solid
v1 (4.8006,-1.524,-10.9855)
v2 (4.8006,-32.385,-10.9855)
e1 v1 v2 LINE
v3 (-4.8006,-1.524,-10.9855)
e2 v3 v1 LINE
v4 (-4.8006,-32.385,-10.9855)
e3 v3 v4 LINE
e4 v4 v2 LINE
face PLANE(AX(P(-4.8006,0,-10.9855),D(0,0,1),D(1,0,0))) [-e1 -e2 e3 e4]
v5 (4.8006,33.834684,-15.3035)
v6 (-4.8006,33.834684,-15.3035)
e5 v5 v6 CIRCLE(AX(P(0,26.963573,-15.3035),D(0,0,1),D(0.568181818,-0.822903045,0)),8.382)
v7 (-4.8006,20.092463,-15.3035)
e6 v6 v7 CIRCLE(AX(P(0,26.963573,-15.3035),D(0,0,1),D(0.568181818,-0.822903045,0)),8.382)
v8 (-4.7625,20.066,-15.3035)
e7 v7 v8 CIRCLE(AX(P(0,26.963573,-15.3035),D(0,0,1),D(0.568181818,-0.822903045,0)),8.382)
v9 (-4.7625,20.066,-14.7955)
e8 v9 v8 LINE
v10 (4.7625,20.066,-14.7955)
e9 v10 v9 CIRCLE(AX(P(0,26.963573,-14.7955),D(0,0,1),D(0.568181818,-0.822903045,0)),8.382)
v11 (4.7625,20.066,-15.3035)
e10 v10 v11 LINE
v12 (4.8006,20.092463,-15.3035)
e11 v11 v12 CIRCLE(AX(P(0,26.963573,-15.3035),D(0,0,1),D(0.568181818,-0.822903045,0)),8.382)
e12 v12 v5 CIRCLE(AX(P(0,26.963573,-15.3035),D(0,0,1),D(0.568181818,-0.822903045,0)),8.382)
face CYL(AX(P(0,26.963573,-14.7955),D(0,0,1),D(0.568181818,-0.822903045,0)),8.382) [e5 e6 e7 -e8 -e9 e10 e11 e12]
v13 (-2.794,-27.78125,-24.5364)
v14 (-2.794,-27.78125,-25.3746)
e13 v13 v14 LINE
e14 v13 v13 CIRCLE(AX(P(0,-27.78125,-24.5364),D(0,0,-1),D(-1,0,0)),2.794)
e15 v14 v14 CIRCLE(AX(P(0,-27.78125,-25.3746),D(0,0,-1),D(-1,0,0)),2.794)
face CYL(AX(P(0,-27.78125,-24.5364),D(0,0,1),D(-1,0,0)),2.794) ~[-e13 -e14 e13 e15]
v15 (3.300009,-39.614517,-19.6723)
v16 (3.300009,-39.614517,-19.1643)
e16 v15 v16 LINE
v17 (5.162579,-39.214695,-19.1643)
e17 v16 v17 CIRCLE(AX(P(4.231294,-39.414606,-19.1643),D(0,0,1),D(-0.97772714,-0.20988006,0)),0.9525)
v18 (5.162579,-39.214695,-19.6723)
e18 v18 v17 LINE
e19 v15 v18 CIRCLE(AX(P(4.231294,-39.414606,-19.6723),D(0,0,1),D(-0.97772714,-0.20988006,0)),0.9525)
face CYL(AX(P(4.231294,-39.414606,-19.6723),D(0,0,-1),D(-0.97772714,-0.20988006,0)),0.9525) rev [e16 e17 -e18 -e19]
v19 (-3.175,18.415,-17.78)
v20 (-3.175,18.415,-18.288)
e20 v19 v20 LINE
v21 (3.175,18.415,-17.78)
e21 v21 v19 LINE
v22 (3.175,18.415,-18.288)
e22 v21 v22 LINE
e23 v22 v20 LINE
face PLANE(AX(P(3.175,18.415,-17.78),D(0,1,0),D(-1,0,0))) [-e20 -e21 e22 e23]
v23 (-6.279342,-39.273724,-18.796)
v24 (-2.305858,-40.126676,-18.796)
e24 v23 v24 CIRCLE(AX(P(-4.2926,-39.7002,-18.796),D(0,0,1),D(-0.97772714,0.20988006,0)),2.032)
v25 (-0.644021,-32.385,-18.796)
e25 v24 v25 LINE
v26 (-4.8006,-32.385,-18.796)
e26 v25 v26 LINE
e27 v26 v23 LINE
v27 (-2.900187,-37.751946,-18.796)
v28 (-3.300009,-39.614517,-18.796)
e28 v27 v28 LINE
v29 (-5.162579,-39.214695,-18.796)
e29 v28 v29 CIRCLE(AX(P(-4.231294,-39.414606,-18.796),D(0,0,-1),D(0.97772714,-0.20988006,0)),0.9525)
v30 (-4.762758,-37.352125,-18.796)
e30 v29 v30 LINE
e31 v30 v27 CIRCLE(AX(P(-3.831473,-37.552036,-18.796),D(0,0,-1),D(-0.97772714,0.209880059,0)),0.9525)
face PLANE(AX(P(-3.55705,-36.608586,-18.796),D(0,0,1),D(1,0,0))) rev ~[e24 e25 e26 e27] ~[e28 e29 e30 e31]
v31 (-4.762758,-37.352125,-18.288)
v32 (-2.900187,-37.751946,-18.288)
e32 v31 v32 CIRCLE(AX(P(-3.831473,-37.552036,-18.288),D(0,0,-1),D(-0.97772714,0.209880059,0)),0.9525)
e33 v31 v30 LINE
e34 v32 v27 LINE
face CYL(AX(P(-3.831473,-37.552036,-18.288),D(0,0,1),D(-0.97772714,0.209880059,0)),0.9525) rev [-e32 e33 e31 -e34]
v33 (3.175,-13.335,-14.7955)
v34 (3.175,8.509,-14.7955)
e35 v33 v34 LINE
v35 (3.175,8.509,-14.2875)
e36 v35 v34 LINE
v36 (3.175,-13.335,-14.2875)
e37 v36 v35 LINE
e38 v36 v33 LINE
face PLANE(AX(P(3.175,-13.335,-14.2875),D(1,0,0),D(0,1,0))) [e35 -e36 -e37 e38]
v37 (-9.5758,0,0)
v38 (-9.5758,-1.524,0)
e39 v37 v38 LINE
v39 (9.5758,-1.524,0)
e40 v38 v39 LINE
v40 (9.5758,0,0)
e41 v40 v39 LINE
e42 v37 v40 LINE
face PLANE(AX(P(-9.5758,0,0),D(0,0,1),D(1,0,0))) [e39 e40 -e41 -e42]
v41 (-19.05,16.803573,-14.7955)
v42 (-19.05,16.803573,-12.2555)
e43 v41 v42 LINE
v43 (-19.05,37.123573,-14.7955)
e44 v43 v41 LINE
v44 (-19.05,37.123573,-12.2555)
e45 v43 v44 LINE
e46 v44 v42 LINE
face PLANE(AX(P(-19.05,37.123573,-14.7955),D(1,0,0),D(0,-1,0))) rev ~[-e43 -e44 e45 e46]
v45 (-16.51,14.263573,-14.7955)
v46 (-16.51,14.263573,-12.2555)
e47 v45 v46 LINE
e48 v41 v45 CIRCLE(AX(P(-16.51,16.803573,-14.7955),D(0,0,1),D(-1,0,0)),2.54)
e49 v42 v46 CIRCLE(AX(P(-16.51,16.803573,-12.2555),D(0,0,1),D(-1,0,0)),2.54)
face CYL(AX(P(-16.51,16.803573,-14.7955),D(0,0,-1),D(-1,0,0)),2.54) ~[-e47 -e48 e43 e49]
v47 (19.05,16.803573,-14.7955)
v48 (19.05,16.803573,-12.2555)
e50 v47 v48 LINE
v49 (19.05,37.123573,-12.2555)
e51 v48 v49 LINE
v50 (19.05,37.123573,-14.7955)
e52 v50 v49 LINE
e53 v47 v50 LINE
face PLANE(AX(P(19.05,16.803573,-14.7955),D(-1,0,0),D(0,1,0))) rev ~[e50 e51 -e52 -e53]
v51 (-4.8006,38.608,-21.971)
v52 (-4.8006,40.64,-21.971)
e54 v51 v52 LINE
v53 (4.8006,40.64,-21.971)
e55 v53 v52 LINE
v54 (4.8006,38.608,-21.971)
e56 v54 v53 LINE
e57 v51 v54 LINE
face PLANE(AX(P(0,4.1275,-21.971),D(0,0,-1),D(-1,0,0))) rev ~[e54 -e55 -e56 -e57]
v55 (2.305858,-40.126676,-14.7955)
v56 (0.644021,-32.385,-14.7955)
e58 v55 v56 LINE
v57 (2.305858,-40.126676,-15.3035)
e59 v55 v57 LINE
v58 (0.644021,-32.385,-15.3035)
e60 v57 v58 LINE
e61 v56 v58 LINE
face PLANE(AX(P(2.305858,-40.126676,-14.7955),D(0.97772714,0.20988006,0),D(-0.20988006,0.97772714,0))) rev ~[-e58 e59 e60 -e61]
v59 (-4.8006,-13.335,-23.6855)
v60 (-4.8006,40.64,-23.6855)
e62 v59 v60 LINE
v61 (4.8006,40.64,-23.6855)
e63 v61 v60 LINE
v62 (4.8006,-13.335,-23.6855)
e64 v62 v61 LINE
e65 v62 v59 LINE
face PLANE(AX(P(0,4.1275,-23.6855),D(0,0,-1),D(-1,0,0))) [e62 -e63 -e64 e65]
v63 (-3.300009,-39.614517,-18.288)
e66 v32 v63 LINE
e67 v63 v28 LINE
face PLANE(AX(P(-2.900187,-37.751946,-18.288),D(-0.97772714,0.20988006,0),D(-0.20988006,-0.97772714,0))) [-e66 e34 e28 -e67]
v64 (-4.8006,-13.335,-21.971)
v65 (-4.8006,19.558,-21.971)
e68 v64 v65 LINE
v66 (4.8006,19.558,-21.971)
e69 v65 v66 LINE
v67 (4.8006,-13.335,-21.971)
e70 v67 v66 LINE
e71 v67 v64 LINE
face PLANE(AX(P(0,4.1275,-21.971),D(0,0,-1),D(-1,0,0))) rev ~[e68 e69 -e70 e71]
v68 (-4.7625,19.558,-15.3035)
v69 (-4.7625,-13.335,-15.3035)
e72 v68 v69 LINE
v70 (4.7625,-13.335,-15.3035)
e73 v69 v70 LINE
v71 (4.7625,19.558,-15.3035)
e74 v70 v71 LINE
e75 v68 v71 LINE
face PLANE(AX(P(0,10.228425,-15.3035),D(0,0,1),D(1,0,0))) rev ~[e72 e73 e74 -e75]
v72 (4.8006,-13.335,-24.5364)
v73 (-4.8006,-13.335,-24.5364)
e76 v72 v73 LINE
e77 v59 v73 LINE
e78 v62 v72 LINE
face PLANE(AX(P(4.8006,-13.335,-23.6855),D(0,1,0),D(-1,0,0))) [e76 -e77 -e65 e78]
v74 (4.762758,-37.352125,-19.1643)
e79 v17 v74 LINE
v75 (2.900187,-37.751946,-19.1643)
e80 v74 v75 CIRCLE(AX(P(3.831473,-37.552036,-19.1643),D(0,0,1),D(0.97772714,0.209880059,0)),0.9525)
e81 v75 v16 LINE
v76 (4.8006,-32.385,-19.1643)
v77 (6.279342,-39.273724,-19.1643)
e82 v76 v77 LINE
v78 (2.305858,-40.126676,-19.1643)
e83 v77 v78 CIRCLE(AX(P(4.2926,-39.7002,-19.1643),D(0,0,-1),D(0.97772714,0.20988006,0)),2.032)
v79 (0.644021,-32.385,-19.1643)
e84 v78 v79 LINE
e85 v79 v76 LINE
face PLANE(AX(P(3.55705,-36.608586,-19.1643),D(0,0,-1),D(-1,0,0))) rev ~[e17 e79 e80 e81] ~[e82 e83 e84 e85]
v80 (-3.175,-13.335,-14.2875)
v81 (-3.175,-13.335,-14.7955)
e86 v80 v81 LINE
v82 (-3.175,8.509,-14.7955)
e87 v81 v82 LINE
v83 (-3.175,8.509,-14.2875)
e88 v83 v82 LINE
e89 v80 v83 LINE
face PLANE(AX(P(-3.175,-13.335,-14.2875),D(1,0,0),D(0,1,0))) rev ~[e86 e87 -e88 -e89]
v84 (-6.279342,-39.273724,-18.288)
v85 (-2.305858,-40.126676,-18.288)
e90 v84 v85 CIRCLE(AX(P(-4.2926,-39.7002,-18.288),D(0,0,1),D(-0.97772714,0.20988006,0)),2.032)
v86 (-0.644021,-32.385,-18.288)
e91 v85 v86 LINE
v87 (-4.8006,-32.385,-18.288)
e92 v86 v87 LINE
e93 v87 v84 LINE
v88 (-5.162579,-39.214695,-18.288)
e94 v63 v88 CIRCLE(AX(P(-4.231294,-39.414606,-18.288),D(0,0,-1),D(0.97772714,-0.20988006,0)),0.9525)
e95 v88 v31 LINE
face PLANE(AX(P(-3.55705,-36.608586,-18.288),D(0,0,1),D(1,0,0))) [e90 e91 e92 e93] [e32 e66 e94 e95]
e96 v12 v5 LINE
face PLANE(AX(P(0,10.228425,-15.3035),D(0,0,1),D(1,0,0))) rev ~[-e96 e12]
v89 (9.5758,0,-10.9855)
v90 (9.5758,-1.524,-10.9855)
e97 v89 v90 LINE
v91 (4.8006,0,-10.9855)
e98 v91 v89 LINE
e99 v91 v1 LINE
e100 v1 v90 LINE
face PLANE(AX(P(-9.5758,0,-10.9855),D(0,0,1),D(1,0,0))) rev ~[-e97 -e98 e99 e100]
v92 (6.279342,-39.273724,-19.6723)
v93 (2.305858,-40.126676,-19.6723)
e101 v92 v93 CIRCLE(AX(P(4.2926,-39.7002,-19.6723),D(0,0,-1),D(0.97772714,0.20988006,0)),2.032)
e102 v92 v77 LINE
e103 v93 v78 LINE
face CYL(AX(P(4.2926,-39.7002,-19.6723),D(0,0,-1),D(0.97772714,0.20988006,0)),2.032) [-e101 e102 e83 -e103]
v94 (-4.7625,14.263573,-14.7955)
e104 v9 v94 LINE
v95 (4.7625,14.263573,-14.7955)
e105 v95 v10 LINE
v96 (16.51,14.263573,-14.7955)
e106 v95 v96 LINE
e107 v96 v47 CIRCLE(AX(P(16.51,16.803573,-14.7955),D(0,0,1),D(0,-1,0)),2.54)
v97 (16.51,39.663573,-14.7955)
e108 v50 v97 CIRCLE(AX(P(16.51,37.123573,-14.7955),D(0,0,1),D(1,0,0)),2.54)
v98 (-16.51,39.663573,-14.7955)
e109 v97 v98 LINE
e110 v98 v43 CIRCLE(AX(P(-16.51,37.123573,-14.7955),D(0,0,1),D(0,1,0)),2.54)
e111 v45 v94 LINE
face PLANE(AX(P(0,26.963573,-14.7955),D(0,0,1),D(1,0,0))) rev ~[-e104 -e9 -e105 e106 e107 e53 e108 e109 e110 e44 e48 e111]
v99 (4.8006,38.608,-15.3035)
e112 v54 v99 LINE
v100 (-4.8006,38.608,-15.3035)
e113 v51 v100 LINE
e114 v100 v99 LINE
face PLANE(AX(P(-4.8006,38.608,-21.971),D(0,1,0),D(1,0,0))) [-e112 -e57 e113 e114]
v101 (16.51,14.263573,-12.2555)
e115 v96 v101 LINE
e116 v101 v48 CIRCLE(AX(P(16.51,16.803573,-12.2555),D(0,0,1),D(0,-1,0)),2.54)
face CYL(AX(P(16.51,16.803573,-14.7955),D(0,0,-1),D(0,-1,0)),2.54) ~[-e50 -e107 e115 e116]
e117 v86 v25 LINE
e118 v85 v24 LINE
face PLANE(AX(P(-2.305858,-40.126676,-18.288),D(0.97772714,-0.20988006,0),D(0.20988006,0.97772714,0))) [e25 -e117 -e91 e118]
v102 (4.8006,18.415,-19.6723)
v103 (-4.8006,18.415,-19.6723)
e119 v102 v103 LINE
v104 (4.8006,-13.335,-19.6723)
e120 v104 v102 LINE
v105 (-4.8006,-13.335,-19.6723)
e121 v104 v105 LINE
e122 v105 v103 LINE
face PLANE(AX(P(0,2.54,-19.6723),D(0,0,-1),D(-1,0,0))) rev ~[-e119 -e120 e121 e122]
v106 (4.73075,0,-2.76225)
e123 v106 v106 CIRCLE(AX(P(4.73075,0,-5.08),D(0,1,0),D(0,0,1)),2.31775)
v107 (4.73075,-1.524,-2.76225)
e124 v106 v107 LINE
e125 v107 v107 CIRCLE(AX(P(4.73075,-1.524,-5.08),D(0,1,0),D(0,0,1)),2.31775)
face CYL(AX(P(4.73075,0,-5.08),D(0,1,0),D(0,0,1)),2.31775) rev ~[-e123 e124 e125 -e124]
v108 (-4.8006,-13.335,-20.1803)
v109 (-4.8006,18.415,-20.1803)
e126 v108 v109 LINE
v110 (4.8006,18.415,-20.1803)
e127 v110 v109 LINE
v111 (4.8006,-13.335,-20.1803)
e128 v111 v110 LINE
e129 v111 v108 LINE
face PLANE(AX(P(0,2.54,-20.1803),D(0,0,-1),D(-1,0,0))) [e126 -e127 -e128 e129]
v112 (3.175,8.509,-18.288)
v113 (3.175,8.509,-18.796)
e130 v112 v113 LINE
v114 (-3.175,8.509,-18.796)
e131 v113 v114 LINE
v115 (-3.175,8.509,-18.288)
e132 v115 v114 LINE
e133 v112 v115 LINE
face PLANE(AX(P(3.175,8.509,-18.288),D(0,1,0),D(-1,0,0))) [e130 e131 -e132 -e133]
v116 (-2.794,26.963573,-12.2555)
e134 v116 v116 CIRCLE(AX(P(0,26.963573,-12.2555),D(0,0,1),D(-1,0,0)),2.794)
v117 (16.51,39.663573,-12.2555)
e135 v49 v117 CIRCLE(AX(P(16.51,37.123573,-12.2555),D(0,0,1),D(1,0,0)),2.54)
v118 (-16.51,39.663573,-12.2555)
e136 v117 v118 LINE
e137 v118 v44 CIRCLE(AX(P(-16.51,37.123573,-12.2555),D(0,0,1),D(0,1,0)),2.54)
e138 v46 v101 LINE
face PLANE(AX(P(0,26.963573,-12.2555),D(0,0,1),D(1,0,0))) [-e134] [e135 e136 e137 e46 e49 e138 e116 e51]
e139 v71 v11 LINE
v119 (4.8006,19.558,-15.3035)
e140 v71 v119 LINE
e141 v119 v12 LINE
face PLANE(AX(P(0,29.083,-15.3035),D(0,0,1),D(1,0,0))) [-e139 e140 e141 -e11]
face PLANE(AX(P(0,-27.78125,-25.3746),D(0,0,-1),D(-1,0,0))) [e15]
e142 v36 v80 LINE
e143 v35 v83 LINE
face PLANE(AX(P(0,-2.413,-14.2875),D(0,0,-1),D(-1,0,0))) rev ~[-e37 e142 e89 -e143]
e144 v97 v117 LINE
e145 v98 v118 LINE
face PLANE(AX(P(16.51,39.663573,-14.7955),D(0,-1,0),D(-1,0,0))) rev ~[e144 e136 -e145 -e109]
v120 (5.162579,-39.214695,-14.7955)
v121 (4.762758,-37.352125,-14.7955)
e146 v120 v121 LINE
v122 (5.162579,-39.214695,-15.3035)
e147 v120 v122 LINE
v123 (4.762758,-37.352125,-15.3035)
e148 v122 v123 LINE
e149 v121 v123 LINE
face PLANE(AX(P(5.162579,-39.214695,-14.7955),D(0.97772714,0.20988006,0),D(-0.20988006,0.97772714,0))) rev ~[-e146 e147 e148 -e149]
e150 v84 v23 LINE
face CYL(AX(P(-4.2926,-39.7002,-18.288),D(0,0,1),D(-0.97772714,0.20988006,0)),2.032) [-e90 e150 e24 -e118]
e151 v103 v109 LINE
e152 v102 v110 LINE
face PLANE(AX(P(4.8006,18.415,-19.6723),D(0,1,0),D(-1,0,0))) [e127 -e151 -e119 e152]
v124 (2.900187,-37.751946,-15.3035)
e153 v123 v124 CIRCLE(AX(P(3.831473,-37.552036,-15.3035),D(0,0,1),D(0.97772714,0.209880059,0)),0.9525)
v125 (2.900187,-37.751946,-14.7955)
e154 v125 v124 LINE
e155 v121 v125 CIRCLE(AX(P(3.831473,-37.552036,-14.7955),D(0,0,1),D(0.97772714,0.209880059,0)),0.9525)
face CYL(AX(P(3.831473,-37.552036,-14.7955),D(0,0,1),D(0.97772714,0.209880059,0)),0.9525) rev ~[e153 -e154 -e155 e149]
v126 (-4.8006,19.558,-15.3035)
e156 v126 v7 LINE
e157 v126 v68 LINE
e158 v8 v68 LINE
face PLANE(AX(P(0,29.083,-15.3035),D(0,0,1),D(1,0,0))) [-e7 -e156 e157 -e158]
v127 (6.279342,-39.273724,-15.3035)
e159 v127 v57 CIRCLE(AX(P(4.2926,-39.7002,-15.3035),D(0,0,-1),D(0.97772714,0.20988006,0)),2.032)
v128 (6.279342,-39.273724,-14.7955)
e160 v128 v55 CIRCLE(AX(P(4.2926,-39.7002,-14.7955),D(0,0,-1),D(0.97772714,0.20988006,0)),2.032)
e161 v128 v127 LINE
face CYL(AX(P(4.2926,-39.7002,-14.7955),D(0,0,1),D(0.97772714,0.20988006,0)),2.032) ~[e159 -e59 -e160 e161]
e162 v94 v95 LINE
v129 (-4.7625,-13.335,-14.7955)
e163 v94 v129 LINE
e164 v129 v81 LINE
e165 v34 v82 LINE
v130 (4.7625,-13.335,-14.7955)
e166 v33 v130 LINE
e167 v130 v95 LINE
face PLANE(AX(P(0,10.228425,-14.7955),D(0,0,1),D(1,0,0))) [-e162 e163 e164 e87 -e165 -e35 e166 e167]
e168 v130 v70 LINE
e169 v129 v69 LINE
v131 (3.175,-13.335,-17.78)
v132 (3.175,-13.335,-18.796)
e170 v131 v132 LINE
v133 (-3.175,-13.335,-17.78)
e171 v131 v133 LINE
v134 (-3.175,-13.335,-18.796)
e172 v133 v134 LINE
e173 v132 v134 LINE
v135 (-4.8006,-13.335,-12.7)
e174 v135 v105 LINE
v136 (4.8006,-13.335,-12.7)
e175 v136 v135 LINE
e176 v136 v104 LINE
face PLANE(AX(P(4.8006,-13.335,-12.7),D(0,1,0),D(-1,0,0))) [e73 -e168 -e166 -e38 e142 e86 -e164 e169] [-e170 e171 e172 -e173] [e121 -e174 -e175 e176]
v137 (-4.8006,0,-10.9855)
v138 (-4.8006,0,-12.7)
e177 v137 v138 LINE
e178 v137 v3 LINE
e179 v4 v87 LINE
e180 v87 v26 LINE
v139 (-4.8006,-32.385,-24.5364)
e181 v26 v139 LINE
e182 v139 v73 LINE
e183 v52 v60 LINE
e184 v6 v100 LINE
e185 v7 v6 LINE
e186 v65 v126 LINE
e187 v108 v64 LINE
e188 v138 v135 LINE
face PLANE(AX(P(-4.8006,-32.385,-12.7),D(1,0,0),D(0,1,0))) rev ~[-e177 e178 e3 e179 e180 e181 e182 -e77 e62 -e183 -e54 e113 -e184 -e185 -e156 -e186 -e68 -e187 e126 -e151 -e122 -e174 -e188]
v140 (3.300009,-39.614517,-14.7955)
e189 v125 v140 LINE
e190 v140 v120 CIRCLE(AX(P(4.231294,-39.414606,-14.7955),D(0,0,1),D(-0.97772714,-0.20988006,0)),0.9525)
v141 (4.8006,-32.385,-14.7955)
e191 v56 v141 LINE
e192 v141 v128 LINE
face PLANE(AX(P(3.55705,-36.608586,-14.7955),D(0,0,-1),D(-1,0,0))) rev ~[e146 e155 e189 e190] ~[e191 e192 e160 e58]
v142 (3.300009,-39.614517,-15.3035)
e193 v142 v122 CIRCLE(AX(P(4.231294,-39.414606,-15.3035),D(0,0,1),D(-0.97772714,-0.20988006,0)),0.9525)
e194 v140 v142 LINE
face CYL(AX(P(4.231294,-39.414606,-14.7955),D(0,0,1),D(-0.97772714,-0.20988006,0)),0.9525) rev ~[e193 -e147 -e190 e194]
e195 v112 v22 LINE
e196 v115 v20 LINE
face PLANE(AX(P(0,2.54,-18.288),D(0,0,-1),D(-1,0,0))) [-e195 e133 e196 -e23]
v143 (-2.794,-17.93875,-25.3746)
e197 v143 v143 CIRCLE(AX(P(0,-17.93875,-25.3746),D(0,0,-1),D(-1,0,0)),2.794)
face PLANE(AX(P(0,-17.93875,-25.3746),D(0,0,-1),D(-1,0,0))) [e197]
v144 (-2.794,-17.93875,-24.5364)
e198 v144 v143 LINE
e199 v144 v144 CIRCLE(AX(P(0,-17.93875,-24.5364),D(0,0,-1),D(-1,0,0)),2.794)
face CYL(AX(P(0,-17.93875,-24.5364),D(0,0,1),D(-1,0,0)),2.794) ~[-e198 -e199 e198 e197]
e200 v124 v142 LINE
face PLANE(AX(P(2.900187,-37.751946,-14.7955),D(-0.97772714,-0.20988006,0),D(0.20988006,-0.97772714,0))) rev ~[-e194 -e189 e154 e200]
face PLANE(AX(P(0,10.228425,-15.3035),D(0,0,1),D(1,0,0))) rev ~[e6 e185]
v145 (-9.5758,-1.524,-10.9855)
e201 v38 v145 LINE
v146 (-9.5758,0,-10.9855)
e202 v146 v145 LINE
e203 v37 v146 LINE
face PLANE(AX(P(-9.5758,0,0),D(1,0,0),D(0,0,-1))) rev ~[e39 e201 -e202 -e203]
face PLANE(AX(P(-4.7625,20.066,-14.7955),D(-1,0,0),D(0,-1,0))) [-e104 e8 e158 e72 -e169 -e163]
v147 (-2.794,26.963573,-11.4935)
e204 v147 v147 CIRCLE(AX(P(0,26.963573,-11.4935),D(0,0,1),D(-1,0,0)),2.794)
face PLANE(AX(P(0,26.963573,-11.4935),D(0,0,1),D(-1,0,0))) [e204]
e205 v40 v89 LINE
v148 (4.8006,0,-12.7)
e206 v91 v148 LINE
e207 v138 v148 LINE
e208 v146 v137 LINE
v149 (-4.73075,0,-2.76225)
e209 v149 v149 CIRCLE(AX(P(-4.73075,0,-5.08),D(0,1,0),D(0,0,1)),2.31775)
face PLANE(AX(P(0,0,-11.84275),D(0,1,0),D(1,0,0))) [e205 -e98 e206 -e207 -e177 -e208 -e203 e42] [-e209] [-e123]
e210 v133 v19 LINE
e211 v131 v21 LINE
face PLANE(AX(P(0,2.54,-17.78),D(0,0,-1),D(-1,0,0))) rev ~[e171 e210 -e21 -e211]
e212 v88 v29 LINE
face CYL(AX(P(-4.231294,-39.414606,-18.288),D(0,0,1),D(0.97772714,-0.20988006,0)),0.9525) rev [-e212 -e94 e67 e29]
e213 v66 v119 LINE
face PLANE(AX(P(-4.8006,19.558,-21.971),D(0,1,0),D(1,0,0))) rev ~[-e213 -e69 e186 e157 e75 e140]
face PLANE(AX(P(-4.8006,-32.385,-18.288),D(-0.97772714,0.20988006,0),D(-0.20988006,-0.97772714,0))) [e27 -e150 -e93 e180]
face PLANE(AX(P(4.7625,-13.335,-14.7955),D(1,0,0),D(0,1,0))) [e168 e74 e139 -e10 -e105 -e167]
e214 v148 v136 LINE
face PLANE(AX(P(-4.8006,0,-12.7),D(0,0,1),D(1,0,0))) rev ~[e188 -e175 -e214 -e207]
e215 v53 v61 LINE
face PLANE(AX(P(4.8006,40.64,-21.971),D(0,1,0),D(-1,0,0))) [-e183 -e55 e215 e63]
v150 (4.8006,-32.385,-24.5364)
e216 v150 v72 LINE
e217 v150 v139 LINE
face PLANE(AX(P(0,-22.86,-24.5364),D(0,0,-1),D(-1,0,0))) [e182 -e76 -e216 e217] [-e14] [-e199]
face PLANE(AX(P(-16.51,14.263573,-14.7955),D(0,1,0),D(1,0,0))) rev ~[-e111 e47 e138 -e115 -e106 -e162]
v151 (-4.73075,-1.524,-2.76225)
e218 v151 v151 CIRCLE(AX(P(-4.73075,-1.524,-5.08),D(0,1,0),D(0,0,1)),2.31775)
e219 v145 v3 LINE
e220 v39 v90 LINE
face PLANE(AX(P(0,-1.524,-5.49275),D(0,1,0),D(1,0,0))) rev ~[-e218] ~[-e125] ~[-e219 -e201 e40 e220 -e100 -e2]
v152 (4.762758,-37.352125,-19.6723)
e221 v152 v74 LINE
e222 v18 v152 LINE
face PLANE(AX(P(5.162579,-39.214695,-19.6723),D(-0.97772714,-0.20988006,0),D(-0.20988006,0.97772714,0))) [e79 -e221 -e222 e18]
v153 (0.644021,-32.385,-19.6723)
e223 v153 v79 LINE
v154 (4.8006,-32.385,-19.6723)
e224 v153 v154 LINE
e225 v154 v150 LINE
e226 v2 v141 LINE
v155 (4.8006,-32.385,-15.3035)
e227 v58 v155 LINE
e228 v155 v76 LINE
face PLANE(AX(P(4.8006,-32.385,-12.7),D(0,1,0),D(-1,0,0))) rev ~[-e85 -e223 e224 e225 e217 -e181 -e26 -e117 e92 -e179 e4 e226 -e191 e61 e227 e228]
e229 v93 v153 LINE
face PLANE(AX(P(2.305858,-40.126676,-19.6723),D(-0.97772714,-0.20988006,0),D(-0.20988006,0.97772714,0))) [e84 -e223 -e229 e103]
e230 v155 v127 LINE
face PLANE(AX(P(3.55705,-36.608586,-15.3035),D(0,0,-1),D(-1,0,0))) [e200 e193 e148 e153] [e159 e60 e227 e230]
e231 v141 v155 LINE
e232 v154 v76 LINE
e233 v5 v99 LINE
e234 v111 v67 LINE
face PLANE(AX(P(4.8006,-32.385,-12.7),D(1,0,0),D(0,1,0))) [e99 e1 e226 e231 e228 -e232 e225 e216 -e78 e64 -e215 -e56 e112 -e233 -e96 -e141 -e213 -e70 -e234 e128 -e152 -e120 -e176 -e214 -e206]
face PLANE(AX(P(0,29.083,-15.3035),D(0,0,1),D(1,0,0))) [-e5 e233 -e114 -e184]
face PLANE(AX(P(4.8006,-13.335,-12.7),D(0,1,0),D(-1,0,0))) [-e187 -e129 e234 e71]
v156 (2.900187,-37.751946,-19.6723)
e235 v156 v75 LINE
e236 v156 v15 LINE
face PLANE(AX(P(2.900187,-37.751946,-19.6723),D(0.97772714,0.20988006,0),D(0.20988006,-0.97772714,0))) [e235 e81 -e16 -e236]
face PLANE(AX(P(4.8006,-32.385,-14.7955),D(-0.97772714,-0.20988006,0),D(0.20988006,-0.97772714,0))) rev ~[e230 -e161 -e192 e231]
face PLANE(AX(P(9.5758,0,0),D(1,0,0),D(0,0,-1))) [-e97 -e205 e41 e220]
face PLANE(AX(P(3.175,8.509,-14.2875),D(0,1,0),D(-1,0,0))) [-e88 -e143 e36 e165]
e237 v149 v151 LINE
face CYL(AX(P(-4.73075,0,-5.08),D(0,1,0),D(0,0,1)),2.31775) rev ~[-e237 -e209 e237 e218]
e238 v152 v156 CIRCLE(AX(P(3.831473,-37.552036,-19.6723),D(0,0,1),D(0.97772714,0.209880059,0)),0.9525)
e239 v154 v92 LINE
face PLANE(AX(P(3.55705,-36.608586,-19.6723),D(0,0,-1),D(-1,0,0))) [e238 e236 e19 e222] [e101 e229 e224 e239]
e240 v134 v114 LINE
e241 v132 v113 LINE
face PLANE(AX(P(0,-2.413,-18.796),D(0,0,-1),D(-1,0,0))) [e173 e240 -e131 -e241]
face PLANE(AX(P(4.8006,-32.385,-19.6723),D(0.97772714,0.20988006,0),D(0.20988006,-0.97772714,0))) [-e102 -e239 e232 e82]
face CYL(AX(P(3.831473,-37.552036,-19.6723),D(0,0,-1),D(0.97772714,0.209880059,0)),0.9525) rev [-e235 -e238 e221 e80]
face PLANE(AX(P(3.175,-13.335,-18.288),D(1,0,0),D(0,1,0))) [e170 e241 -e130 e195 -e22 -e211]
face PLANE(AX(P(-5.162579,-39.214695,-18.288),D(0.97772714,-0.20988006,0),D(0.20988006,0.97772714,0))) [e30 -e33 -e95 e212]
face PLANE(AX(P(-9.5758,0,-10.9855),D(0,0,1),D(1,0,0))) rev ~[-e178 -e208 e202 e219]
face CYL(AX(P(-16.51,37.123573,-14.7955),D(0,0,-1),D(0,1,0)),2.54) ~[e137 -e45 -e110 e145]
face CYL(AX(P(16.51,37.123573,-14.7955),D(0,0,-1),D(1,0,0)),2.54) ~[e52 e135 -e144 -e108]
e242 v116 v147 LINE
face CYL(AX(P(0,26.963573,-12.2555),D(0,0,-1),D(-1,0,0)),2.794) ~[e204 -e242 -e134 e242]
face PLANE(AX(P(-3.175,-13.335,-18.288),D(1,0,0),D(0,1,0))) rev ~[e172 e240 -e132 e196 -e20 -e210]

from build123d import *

# Parameters (mm, degrees)
SKETCH2_W              = 19.1516
SKETCH2_H              = 10.9855
SKETCH2_R              = 2.31775
BOSS_EXTRUDE1_DEPTH    = 1.524
SKETCH3_W              = 9.6012
SKETCH3_H              = 1.7145
BOSS_EXTRUDE2_DEPTH    = 32.385
SKETCH4_W              = 9.6012
SKETCH4_H              = 19.05
BOSS_EXTRUDE3_DEPTH    = 9.271
SKETCH5_W              = 9.6012
SKETCH5_H              = 73.025
BOSS_EXTRUDE4_DEPTH    = 1.7145
SKETCH6_W              = 9.6012
SKETCH6_H              = 19.05
BOSS_EXTRUDE5_DEPTH    = 0.8509
SKETCH7_W              = 6.35
SKETCH7_H              = 21.844
BOSS_EXTRUDE6_DEPTH    = 0.508
BOSS_EXTRUDE7_DEPTH    = 0.508
SKETCH9_W              = 6.35
SKETCH9_H              = 31.75
BOSS_EXTRUDE8_DEPTH    = 0.508
SKETCH10_W             = 6.35
SKETCH10_H             = 21.844
BOSS_EXTRUDE9_DEPTH    = 0.508
SKETCH11_W             = 9.6012
SKETCH11_H             = 31.75
BOSS_EXTRUDE10_DEPTH   = 0.508
BOSS_EXTRUDE11_DEPTH   = 2.54
SKETCH13_R             = 2.794
BOSS_EXTRUDE12_DEPTH   = 0.762
SKETCH14_W             = 9.6012
SKETCH14_H             = 19.05
BOSS_EXTRUDE13_DEPTH   = 6.6675
BOSS_EXTRUDE14_DEPTH   = 0.508
BOSS_EXTRUDE15_DEPTH   = 0.508
BOSS_EXTRUDE16_DEPTH   = 0.508
SKETCH19_R             = 2.794
BOSS_EXTRUDE17_DEPTH   = 0.8382
BOSS_EXTRUDE17_2_DEPTH = 0.8382


with BuildPart() as part:
    # Sketch2 → Boss-Extrude1 (new body)
    with BuildSketch(Plane(origin=(0, 0, 0), x_dir=(1, 0, 0), z_dir=(0, 1, 0))):
        with Locations((0, 5.49275)):
            Rectangle(SKETCH2_W, SKETCH2_H)
        with Locations(Location((-4.73075, 5.08, 0), (0, 0, 270))):
            Circle(SKETCH2_R, mode=Mode.SUBTRACT)
        with Locations(Location((4.73075, 5.08, 0), (0, 0, 270))):
            Circle(SKETCH2_R, mode=Mode.SUBTRACT)
    extrude(amount=-BOSS_EXTRUDE1_DEPTH)

    # Sketch3 → Boss-Extrude2 (add)
    with BuildSketch(Plane(origin=(0, 0, 0), x_dir=(1, 0, 0), z_dir=(0, 1, 0))):
        with Locations((0, 11.84275)):
            Rectangle(SKETCH3_W, SKETCH3_H)
    extrude(amount=-BOSS_EXTRUDE2_DEPTH)


with BuildPart() as body_2:
    # Sketch4 → Boss-Extrude3 (new body)
    with BuildSketch(Plane(origin=(0, 0, -12.7), x_dir=(-1, 0, 0), z_dir=(0, 0, -1))):
        with Locations((0, -22.86)):
            Rectangle(SKETCH4_W, SKETCH4_H)
    extrude(amount=BOSS_EXTRUDE3_DEPTH)

    # Sketch7 → Boss-Extrude6 (add)
    with BuildSketch(Plane(origin=(0, 0, -14.2875), x_dir=(-1, 0, 0), z_dir=(0, 0, -1))):
        with Locations((0, -2.413)):
            Rectangle(SKETCH7_W, SKETCH7_H)
    extrude(amount=BOSS_EXTRUDE6_DEPTH)

    # Sketch15 → Boss-Extrude14 (add)
    with BuildSketch(Plane(origin=(0, 0, -14.7955), x_dir=(-1, 0, 0), z_dir=(0, 0, -1))):
        with BuildLine():
            Line((-4.8006, -32.385), (-6.279341549, -39.273723719))
            ThreePointArc((-6.279341549, -39.273723719), (-4.719076281, -41.686941549), (-2.305858451, -40.126676281))
            Line((-2.305858451, -40.126676281), (-0.644021101, -32.385))
            Line((-0.644021101, -32.385), (-4.8006, -32.385))
        make_face()
        with BuildLine():
            Line((-2.90018742, -37.751946457), (-3.300008934, -39.614516659))
            ThreePointArc((-3.300008934, -39.614516659), (-4.431204791, -40.345891003), (-5.162579136, -39.214695145))
            Line((-5.162579136, -39.214695145), (-4.762757622, -37.352124944))
            ThreePointArc((-4.762757622, -37.352124944), (-3.631561764, -36.620750599), (-2.90018742, -37.751946457))
        make_face(mode=Mode.SUBTRACT)
    extrude(amount=BOSS_EXTRUDE14_DEPTH)

    # Sketch17 → Boss-Extrude15 (add)
    with BuildSketch(Plane(origin=(0, 0, -18.288), x_dir=(-1, 0, 0), z_dir=(0, 0, -1))):
        with BuildLine():
            Line((4.8006, -32.385), (6.279341549, -39.273723719))
            ThreePointArc((6.279341549, -39.273723719), (4.719076281, -41.686941549), (2.305858451, -40.126676281))
            Line((2.305858451, -40.126676281), (0.644021101, -32.385))
            Line((0.644021101, -32.385), (4.8006, -32.385))
        make_face()
        with BuildLine():
            Line((2.90018742, -37.751946457), (3.300008934, -39.614516659))
            ThreePointArc((3.300008934, -39.614516659), (4.431204791, -40.345891003), (5.162579136, -39.214695145))
            Line((5.162579136, -39.214695145), (4.762757622, -37.352124944))
            ThreePointArc((4.762757622, -37.352124944), (3.631561764, -36.620750599), (2.90018742, -37.751946457))
        make_face(mode=Mode.SUBTRACT)
    extrude(amount=BOSS_EXTRUDE15_DEPTH)

    # Sketch18 → Boss-Extrude16 (add)
    with BuildSketch(Plane.XY.offset(-19.6723)):
        with BuildLine():
            Line((4.8006, -32.385), (6.279341549, -39.273723719))
            ThreePointArc((6.279341549, -39.273723719), (4.719076281, -41.686941549), (2.305858451, -40.126676281))
            Line((2.305858451, -40.126676281), (0.644021101, -32.385))
            Line((0.644021101, -32.385), (4.8006, -32.385))
        make_face()
        with BuildLine():
            Line((2.90018742, -37.751946457), (3.300008934, -39.614516659))
            ThreePointArc((3.300008934, -39.614516659), (4.431204791, -40.345891003), (5.162579136, -39.214695145))
            Line((5.162579136, -39.214695145), (4.762757622, -37.352124944))
            ThreePointArc((4.762757622, -37.352124944), (3.631561764, -36.620750599), (2.90018742, -37.751946457))
        make_face(mode=Mode.SUBTRACT)
    extrude(amount=BOSS_EXTRUDE16_DEPTH)


with BuildPart() as body_3:
    # Sketch5 → Boss-Extrude4 (new body)
    with BuildSketch(Plane(origin=(0, 0, -21.971), x_dir=(-1, 0, 0), z_dir=(0, 0, -1))):
        with Locations((0, 4.1275)):
            Rectangle(SKETCH5_W, SKETCH5_H)
    extrude(amount=BOSS_EXTRUDE4_DEPTH)


with BuildPart() as body_4:
    # Sketch6 → Boss-Extrude5 (new body)
    with BuildSketch(Plane(origin=(0, 0, -23.6855), x_dir=(-1, 0, 0), z_dir=(0, 0, -1))):
        with Locations((0, -22.86)):
            Rectangle(SKETCH6_W, SKETCH6_H)
    extrude(amount=BOSS_EXTRUDE5_DEPTH)


with BuildPart() as body_5:
    # Sketch8 → Boss-Extrude7 (new body)
    with BuildSketch(Plane(origin=(0, 0, -14.7955), x_dir=(-1, 0, 0), z_dir=(0, 0, -1))):
        with BuildLine():
            Line((4.7625, -13.335), (-4.7625, -13.335))
            Line((-4.7625, -13.335), (-4.7625, 20.066))
            ThreePointArc((-4.7625, 20.066), (0, 35.345573323), (4.7625, 20.066))
            Line((4.7625, 20.066), (4.7625, -13.335))
        make_face()
    extrude(amount=BOSS_EXTRUDE7_DEPTH)

    # Sketch12 → Boss-Extrude11 (add)
    with BuildSketch(Plane.XY.offset(-14.7955)):
        with BuildLine():
            Line((-16.51, 14.263573323), (16.51, 14.263573323))
            ThreePointArc((16.51, 14.263573323), (18.306051224, 15.007522099), (19.05, 16.803573323))
            Line((19.05, 16.803573323), (19.05, 37.123573323))
            ThreePointArc((19.05, 37.123573323), (18.306051224, 38.919624547), (16.51, 39.663573323))
            Line((16.51, 39.663573323), (-16.51, 39.663573323))
            ThreePointArc((-16.51, 39.663573323), (-18.306051224, 38.919624547), (-19.05, 37.123573323))
            Line((-19.05, 37.123573323), (-19.05, 16.803573323))
            ThreePointArc((-19.05, 16.803573323), (-18.306051224, 15.007522099), (-16.51, 14.263573323))
        make_face()
    extrude(amount=BOSS_EXTRUDE11_DEPTH)

    # Sketch13 → Boss-Extrude12 (add)
    with BuildSketch(Plane.XY.offset(-12.2555)):
        with Locations(Location((0, 26.963573323, 0), (0, 0, 180))):
            Circle(SKETCH13_R)
    extrude(amount=BOSS_EXTRUDE12_DEPTH)


with BuildPart() as body_6:
    # Sketch9 → Boss-Extrude8 (new body)
    with BuildSketch(Plane(origin=(0, 0, -17.78), x_dir=(-1, 0, 0), z_dir=(0, 0, -1))):
        with Locations((0, 2.54)):
            Rectangle(SKETCH9_W, SKETCH9_H)
    extrude(amount=BOSS_EXTRUDE8_DEPTH)


with BuildPart() as body_7:
    # Sketch10 → Boss-Extrude9 (new body)
    with BuildSketch(Plane(origin=(0, 0, -18.288), x_dir=(-1, 0, 0), z_dir=(0, 0, -1))):
        with Locations((0, -2.413)):
            Rectangle(SKETCH10_W, SKETCH10_H)
    extrude(amount=BOSS_EXTRUDE9_DEPTH)


with BuildPart() as body_8:
    # Sketch11 → Boss-Extrude10 (new body)
    with BuildSketch(Plane(origin=(0, 0, -19.6723), x_dir=(-1, 0, 0), z_dir=(0, 0, -1))):
        with Locations((0, 2.54)):
            Rectangle(SKETCH11_W, SKETCH11_H)
    extrude(amount=BOSS_EXTRUDE10_DEPTH)


with BuildPart() as body_9:
    # Sketch14 → Boss-Extrude13 (new body)
    with BuildSketch(Plane.XY.offset(-21.971)):
        with Locations((0, 29.083)):
            Rectangle(SKETCH14_W, SKETCH14_H)
    extrude(amount=BOSS_EXTRUDE13_DEPTH)


with BuildPart() as body_10:
    # Sketch19 → Boss-Extrude17 (new body)
    with BuildSketch(Plane(origin=(0, 0, -24.5364), x_dir=(-1, 0, 0), z_dir=(0, 0, -1))):
        with Locations((0, -17.93875)):
            Circle(SKETCH19_R)
    extrude(amount=BOSS_EXTRUDE17_DEPTH)


with BuildPart() as body_11:
    # Sketch19 → Boss-Extrude17 2 (new body)
    with BuildSketch(Plane(origin=(0, 0, -24.5364), x_dir=(-1, 0, 0), z_dir=(0, 0, -1))):
        with Locations((0, -27.78125)):
            Circle(SKETCH19_R)
    extrude(amount=BOSS_EXTRUDE17_2_DEPTH)


with BuildPart() as part_1:
    add(part.part)

    # Combine1: union body 3, body 4, body 6, body 7, body 8, body 5, body 9, body 2, body 10, body 11
    add(body_3.part)
    add(body_4.part)
    add(body_6.part)
    add(body_7.part)
    add(body_8.part)
    add(body_5.part)
    add(body_9.part)
    add(body_2.part)
    add(body_10.part)
    add(body_11.part)


solid = part_1.part
